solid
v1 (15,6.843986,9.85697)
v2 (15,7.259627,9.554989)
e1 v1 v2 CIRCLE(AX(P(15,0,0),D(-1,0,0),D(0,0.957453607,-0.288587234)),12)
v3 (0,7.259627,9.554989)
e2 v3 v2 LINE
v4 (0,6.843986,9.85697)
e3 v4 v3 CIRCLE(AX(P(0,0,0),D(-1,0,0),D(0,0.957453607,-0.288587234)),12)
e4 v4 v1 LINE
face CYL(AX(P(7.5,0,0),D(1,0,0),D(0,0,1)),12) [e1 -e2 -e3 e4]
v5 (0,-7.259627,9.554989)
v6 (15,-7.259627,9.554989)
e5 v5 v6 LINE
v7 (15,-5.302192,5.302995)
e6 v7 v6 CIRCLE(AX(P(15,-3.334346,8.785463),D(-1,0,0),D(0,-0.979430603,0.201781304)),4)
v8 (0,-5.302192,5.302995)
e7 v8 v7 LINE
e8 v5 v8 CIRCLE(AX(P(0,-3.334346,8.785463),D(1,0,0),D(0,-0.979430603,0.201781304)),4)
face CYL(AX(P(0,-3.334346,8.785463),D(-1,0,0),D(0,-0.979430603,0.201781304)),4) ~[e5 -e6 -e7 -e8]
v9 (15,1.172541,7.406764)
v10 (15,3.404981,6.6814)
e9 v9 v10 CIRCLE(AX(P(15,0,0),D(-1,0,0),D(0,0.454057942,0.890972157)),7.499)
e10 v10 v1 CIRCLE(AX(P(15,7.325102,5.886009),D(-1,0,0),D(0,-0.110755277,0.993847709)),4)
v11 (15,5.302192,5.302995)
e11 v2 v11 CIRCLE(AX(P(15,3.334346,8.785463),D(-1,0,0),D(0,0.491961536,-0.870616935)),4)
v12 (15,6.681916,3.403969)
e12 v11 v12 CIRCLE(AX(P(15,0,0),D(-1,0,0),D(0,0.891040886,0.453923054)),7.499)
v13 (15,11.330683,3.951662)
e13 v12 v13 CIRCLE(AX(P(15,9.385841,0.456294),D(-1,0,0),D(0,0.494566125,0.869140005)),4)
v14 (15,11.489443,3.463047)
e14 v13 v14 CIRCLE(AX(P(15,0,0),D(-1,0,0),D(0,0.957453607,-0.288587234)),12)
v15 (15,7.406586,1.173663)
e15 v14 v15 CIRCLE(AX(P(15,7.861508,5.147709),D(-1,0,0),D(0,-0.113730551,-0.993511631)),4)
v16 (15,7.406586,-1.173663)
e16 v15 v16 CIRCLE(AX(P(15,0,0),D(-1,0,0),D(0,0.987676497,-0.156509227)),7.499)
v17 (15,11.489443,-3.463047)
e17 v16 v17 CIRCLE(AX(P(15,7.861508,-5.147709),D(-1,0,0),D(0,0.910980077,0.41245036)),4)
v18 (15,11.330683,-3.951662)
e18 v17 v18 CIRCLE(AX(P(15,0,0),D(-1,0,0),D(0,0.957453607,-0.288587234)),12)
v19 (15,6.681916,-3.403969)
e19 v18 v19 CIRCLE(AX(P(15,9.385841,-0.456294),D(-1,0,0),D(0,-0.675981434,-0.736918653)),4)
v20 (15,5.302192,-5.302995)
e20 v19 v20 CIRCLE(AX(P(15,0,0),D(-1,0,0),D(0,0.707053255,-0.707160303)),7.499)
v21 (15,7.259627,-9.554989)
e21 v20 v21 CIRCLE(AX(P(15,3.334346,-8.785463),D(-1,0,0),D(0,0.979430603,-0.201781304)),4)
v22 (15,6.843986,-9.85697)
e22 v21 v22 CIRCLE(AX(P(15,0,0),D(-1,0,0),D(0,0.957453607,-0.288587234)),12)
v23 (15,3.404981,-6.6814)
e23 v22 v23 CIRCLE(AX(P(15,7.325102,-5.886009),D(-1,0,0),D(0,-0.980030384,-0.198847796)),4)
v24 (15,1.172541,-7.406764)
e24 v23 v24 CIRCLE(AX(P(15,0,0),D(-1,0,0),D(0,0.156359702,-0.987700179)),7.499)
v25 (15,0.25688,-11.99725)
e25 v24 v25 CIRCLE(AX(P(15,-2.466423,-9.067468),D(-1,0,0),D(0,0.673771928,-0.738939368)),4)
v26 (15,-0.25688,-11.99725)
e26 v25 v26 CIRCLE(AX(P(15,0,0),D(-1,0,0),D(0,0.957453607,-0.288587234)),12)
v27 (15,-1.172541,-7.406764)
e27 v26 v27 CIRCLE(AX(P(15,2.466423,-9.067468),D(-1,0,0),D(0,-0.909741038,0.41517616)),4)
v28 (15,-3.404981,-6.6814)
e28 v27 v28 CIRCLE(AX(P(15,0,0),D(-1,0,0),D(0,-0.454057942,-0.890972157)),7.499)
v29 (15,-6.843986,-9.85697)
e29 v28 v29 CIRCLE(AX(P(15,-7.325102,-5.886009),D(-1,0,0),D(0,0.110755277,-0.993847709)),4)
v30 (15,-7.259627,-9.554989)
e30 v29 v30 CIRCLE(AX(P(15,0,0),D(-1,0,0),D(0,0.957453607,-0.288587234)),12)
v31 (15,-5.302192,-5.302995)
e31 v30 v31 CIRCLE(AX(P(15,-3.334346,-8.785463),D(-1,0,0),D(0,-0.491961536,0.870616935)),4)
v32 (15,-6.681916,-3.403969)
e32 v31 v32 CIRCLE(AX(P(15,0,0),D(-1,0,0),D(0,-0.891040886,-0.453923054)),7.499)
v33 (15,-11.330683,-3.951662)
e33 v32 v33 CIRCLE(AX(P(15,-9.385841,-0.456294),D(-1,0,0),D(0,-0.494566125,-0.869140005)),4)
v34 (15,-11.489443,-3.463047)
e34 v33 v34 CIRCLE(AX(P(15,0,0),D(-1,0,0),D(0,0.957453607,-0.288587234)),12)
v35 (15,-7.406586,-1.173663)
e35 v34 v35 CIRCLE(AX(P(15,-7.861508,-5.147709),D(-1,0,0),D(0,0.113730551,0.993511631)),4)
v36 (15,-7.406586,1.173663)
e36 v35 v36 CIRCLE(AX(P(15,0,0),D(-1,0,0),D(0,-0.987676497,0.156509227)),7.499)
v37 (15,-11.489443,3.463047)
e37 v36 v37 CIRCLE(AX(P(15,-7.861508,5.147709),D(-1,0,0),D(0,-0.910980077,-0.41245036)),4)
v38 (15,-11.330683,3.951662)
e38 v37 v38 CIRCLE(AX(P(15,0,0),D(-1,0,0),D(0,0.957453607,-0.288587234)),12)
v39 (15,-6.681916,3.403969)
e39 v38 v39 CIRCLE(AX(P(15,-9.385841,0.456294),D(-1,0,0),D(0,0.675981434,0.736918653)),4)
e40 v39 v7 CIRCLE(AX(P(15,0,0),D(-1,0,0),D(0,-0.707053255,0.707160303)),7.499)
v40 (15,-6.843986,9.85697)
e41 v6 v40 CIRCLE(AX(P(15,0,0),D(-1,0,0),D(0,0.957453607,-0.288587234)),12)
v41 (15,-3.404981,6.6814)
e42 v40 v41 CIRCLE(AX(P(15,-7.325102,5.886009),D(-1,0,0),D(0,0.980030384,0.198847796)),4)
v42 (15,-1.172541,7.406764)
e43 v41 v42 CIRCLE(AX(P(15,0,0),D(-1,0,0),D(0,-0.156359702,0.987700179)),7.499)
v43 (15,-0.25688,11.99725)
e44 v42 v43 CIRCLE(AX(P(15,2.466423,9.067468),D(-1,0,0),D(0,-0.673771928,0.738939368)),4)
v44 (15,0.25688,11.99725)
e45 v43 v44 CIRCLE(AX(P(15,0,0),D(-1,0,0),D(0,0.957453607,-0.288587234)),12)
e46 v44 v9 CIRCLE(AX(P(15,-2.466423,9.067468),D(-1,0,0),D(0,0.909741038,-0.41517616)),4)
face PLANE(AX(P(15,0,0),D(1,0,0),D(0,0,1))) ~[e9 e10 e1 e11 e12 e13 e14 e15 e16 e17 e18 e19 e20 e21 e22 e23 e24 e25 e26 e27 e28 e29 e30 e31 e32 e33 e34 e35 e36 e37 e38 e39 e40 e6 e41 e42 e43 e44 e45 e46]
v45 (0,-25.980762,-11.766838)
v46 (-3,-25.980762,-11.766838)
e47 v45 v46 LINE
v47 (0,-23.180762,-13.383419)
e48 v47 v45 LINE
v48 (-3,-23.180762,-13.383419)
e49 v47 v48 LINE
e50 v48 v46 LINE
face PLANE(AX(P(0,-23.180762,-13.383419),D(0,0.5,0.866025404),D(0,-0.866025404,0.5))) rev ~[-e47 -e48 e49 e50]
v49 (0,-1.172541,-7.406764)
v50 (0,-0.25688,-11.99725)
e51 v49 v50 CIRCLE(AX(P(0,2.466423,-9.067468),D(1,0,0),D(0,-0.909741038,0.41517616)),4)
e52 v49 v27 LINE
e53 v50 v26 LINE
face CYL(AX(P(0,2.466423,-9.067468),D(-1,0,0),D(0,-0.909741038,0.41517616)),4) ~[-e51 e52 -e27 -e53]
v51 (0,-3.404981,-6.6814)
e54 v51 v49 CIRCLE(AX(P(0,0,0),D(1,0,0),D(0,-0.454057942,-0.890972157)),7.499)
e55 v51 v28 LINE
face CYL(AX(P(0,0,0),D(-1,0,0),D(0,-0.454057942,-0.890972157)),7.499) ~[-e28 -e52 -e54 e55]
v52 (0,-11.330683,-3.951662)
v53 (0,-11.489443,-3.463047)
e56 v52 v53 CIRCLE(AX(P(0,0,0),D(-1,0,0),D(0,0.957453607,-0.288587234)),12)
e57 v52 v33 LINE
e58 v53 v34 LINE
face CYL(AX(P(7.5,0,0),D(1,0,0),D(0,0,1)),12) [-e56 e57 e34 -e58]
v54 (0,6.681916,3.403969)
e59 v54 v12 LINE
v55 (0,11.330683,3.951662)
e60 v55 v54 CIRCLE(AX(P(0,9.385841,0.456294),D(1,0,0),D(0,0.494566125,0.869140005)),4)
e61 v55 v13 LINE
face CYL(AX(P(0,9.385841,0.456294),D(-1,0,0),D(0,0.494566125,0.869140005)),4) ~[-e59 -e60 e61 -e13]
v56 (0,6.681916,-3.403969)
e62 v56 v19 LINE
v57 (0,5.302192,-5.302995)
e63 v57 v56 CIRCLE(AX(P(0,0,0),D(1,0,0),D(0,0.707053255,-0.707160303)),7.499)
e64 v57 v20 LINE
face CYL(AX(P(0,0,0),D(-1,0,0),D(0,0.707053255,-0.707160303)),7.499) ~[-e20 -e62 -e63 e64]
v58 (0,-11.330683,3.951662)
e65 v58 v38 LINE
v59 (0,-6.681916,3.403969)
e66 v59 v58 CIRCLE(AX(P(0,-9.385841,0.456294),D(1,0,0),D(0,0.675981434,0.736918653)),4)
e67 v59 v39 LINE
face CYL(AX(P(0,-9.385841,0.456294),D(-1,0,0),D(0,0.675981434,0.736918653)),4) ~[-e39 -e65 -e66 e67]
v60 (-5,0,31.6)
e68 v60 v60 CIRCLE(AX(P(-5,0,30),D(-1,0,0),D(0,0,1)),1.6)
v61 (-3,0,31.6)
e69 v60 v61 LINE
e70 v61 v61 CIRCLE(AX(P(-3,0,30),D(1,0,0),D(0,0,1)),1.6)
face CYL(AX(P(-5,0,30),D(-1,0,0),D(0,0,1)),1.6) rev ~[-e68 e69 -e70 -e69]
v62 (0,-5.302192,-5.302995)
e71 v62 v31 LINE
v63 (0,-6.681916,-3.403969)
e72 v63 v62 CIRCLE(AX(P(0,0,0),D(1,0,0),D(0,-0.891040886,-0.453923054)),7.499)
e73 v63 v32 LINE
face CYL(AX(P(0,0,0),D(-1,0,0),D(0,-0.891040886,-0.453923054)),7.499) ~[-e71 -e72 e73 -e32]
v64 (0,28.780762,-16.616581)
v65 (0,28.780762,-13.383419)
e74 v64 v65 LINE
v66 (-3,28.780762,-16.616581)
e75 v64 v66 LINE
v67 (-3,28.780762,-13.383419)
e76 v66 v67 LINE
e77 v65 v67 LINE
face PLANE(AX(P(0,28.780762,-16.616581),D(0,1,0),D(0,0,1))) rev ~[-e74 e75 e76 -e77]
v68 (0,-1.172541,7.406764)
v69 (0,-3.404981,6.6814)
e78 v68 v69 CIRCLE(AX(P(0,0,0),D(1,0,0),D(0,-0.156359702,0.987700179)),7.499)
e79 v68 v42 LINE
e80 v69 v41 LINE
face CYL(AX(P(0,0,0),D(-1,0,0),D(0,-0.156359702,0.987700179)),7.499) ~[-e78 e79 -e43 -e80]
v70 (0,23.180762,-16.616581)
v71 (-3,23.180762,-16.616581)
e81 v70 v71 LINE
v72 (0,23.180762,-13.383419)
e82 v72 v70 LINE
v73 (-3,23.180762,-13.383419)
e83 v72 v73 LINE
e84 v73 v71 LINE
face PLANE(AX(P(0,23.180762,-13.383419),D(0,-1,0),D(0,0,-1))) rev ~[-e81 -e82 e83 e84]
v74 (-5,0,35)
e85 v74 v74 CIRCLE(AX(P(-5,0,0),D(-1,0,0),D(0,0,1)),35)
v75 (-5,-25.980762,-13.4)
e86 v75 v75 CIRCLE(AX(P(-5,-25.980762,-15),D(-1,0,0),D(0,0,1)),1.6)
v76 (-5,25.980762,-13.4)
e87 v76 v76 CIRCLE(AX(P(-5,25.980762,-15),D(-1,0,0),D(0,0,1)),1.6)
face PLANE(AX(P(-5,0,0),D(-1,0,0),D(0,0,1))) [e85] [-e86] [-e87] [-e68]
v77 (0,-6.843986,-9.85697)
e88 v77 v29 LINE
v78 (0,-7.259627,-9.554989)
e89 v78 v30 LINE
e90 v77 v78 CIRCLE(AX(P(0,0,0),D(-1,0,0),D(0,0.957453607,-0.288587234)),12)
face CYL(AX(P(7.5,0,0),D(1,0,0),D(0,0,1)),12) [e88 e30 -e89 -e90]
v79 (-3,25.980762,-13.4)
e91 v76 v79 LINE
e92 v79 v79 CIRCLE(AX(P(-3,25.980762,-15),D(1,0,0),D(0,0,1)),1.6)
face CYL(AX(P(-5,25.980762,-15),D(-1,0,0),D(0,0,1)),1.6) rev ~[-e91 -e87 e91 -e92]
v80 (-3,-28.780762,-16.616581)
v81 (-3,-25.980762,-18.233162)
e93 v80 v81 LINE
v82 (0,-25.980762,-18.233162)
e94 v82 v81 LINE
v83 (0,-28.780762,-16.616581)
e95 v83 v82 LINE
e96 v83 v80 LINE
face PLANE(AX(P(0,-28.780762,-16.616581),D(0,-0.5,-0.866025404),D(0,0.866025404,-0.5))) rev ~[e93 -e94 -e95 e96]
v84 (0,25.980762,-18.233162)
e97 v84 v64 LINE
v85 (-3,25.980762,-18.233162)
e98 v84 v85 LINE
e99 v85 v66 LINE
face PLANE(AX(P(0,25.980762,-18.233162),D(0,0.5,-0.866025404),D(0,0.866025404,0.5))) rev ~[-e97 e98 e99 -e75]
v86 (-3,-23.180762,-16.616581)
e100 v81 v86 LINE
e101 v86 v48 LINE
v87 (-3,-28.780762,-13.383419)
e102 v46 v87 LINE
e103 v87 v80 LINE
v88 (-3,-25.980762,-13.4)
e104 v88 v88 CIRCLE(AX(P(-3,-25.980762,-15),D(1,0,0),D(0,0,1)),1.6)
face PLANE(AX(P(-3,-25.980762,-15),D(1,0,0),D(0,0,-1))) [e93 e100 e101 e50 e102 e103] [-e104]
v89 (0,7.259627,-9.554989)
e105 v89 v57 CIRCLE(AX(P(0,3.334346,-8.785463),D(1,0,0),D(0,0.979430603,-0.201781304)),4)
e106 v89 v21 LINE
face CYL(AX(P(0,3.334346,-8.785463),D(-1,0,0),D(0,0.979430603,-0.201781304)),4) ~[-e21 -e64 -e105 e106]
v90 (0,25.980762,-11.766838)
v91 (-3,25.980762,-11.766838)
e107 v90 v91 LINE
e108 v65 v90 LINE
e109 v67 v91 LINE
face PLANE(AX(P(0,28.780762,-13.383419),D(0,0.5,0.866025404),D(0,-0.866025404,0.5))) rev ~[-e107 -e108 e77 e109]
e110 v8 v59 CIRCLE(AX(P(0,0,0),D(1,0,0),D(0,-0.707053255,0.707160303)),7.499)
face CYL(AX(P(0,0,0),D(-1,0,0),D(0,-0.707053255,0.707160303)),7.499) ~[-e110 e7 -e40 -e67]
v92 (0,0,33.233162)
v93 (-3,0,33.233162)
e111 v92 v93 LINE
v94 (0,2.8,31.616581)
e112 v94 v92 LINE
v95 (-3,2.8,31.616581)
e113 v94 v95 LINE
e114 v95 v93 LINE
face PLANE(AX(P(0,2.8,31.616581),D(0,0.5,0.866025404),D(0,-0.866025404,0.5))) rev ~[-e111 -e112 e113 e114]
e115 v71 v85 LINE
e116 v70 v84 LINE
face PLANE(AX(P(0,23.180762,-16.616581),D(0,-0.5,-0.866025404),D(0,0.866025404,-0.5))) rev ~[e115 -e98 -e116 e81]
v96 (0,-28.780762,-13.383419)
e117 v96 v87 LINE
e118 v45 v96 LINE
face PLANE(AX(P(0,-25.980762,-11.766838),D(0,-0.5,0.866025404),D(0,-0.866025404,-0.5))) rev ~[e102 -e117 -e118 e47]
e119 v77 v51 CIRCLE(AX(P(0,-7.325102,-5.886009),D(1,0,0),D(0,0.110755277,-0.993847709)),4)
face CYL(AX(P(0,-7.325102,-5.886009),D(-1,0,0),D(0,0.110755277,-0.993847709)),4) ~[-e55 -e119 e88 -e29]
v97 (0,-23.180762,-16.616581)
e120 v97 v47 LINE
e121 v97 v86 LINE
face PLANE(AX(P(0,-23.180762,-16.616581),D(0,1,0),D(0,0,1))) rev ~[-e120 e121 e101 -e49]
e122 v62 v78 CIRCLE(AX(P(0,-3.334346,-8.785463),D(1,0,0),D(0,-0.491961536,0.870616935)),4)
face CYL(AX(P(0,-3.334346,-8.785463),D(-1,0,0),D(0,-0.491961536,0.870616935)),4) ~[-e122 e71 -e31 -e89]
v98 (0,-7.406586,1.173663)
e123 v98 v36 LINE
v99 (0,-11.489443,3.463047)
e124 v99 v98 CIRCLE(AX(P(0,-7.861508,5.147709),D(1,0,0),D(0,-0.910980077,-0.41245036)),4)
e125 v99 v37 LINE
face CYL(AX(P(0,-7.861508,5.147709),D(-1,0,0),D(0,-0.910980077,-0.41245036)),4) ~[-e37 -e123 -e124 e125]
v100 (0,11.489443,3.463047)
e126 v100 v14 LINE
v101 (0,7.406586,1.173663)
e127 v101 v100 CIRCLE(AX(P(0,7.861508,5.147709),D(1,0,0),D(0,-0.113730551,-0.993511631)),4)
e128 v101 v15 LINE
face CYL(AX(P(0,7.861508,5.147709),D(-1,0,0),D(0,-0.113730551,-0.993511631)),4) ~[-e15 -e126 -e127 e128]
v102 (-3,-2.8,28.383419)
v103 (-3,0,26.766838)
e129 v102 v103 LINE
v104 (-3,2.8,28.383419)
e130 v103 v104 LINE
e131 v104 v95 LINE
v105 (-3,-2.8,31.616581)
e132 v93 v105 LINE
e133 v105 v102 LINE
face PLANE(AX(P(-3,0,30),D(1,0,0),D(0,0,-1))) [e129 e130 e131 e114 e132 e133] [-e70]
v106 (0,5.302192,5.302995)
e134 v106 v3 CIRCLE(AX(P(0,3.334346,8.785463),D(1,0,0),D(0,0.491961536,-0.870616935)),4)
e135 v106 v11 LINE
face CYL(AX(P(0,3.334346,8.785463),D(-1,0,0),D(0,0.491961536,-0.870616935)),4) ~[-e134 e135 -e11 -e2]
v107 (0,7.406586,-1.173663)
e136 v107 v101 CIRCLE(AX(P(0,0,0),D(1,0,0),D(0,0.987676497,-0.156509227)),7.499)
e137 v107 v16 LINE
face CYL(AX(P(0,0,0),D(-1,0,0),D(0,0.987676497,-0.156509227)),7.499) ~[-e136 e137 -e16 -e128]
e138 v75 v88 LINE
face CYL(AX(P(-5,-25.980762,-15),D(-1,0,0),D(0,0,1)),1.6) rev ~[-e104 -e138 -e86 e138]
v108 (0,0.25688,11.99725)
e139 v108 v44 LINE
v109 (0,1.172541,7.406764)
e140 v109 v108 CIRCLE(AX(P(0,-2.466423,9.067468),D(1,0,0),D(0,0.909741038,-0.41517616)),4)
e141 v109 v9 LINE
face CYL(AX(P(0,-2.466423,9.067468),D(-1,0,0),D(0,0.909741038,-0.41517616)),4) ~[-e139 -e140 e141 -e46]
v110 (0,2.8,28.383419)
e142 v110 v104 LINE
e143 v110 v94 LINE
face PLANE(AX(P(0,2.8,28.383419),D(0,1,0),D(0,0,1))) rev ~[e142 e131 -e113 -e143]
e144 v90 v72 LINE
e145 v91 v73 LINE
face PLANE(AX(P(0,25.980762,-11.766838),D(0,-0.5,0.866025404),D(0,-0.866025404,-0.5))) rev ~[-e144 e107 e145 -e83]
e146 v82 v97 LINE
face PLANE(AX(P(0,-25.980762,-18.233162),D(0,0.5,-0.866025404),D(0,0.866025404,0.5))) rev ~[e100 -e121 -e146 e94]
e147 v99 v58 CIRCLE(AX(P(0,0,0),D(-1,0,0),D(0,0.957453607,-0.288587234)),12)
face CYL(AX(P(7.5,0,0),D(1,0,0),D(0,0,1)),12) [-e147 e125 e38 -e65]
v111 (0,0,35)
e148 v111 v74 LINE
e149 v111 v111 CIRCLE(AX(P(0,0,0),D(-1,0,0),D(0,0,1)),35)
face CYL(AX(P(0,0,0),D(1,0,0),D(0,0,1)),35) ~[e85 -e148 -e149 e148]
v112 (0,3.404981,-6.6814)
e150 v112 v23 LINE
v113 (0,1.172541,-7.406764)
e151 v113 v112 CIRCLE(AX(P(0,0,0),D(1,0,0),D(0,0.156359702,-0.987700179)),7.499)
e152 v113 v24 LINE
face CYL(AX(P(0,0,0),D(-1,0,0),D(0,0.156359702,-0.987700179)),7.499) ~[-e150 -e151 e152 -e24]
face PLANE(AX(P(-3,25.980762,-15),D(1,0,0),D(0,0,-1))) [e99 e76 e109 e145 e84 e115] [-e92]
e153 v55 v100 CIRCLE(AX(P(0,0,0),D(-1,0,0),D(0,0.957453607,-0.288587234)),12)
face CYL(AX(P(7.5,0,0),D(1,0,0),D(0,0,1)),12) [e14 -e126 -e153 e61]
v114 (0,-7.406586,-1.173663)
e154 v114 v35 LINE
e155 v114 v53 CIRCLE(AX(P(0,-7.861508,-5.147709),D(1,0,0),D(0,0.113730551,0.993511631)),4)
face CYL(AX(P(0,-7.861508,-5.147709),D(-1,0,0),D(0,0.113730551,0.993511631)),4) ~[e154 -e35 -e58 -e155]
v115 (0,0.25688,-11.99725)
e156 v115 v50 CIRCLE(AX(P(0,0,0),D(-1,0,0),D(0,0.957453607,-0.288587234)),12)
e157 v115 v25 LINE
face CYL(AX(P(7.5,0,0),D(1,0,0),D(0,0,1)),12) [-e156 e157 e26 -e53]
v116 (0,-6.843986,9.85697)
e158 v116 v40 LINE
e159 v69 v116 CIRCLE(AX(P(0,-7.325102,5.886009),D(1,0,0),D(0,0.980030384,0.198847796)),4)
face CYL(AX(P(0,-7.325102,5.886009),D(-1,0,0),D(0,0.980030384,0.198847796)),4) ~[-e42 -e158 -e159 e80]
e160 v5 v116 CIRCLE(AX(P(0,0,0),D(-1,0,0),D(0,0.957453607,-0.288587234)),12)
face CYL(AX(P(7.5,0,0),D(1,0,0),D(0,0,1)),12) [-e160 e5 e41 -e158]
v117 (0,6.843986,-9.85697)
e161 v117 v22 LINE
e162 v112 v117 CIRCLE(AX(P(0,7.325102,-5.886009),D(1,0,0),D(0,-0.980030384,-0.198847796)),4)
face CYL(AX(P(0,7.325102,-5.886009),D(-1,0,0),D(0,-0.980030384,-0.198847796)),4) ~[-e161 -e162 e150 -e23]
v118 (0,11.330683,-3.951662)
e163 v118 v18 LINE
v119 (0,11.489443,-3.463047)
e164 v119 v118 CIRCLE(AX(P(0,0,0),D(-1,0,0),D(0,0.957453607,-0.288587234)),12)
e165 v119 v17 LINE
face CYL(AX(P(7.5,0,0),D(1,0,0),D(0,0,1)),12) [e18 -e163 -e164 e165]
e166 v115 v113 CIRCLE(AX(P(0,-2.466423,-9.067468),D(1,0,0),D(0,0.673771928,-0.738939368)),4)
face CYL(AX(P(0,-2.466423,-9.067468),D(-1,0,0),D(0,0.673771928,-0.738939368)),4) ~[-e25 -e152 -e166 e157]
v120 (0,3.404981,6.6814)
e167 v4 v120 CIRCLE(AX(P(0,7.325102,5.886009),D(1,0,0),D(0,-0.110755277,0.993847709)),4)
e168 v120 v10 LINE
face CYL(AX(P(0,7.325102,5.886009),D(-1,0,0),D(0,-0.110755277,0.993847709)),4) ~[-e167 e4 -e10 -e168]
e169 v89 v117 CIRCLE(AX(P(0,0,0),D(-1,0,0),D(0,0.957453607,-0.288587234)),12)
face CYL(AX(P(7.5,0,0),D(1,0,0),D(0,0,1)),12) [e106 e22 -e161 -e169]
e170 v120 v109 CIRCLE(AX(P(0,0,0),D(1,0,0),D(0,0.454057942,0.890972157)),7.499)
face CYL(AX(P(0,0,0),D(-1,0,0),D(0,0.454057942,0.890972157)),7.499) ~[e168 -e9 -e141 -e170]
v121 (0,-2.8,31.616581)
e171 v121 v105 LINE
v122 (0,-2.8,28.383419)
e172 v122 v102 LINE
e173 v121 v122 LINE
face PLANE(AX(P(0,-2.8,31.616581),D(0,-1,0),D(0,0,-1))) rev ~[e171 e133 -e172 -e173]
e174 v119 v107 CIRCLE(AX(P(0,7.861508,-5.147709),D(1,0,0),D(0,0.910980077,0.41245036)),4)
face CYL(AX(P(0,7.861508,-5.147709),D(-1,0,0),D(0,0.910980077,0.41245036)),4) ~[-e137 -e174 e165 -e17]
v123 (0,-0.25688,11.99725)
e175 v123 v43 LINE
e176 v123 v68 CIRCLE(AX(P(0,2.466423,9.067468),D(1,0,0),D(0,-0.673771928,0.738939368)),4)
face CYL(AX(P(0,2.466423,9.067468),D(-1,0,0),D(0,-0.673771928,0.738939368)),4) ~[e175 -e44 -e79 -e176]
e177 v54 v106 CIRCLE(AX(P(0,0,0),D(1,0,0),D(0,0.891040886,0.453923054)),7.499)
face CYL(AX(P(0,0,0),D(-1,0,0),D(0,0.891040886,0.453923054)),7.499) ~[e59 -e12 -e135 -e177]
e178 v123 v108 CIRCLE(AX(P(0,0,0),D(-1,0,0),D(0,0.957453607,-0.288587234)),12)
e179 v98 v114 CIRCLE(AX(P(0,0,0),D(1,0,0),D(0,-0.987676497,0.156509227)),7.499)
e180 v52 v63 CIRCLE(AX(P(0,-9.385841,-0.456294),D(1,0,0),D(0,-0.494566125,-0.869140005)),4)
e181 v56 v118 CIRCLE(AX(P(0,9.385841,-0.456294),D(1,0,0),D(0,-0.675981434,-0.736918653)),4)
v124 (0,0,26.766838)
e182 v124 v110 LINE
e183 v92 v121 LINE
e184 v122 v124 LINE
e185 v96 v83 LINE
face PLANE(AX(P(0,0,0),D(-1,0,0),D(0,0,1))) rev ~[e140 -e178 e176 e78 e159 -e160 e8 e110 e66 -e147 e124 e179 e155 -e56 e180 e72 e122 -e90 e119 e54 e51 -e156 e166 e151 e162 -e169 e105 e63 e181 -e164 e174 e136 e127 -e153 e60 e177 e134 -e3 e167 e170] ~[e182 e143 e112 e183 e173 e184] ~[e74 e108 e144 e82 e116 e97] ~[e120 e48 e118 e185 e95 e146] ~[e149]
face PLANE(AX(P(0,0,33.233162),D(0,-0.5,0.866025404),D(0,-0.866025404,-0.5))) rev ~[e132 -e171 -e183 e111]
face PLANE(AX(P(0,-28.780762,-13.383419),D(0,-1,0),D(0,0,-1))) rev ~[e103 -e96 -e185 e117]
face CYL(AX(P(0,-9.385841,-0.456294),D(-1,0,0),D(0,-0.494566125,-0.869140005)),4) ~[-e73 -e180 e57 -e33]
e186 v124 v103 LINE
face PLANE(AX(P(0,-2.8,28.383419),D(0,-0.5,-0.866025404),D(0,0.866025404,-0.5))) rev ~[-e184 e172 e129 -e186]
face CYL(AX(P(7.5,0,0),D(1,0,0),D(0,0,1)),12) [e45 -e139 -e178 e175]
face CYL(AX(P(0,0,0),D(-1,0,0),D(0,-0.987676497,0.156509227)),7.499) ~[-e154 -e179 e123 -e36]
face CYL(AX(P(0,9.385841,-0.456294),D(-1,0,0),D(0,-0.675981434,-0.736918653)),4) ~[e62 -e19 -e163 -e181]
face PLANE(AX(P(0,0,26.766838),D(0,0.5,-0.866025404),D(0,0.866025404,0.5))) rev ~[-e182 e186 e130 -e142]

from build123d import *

# Parameters (mm, degrees)
BASPROSKE_W         = 15
BASPROSKE_H         = 12
TOOTHCUT_DEPTH      = 23.649503306
TEETHCUTS_COUNT     = 10
TEETHCUTS_ANGLE     = 324
BORSKE_R            = 0.45
BORE_DEPTH          = 50.0000508
SKETCH1_R           = 0.45
CUT_EXTRUDE1_DEPTH  = 15
SKETCH2_R           = 3.991106517
BOSS_EXTRUDE1_DEPTH = 15
SKETCH3_R           = 35
BOSS_EXTRUDE2_DEPTH = 5
SKETCH7_R           = 1.6
CUT_EXTRUDE2_DEPTH  = 10
CUT_EXTRUDE3_DEPTH  = 3
CUT_EXTRUDE5_DEPTH  = 3


with BuildPart() as part:
    # BasProSke → Base-Revolve (revolve)
    with BuildSketch(Plane(origin=(0, 0, 0), x_dir=(1, 0, 0), z_dir=(0, 1, 0)), mode=Mode.PRIVATE) as base_revolve_sk:
        with Locations((7.5, 6)):
            Rectangle(BASPROSKE_W, BASPROSKE_H)
    revolve(base_revolve_sk.sketch.rotate(Axis((-10, 0, 0), (1, 0, 0)), 180), axis=Axis((-10, 0, 0), (1, 0, 0)))

    # TooCutSke → ToothCut (cut, through all)
    with BuildSketch(Plane(origin=(0, 0, 0), x_dir=(0, 0, -1), z_dir=(1, 0, 0))):
        with BuildLine():
            ThreePointArc((1.173662691, 7.406586048), (0, 7.499), (-1.173662691, 7.406586048))
            ThreePointArc((-1.173662691, 7.406586048), (-1.668191438, 9.834565786), (-3.497907776, 11.50542856))
            ThreePointArc((-3.497907776, 11.50542856), (0, 12.0254), (3.497907776, 11.50542856))
            ThreePointArc((3.497907776, 11.50542856), (1.668191438, 9.834565786), (1.173662691, 7.406586048))
        make_face()
    toothcut = extrude(amount=TOOTHCUT_DEPTH, mode=Mode.SUBTRACT)

    # TeethCuts: ToothCut ×10 about axis
    teethcuts_axis = Axis((-10, 0, 0), (1, 0, 0))
    for i in range(1, TEETHCUTS_COUNT):
        add(toothcut.rotate(teethcuts_axis, i * TEETHCUTS_ANGLE / (TEETHCUTS_COUNT - 1)), mode=Mode.SUBTRACT)

    # BorSke → Bore (cut, symmetric)
    with BuildSketch(Plane(origin=(0, 0, 0), x_dir=(0, 0, -1), z_dir=(1, 0, 0))):
        with Locations(Location((0, 0, 0), (0, 0, 180))):
            Circle(BORSKE_R)
    extrude(amount=BORE_DEPTH, both=True, mode=Mode.SUBTRACT)

    # Sketch1 → Cut-Extrude1 (cut)
    with BuildSketch(Plane.ZY):
        with BuildLine():
            Line((1.212435565, 2.3), (-1.212435565, 2.3))
            ThreePointArc((-1.212435565, 2.3), (-1.343068786, -2.226244873), (2.6, 0))
            ThreePointArc((2.6, 0), (2.226244873, 1.343068786), (1.212435565, 2.3))
        make_face()
        Circle(SKETCH1_R, mode=Mode.SUBTRACT)
    extrude(amount=-CUT_EXTRUDE1_DEPTH, mode=Mode.SUBTRACT)

    # Sketch2 → Boss-Extrude1 (add)
    with BuildSketch(Plane.ZY):
        Circle(SKETCH2_R)
    extrude(amount=-BOSS_EXTRUDE1_DEPTH)

    # Sketch3 → Boss-Extrude2 (add)
    with BuildSketch(Plane.ZY):
        Circle(SKETCH3_R)
    extrude(amount=BOSS_EXTRUDE2_DEPTH)

    # Sketch7 → Cut-Extrude2 (cut)
    with BuildSketch(Plane.ZY.offset(5)):
        with Locations((30, 0)):
            Circle(SKETCH7_R)
        with Locations((-15, -25.980762114)):
            Circle(SKETCH7_R)
        with Locations((-15, 25.980762114)):
            Circle(SKETCH7_R)
    extrude(amount=-CUT_EXTRUDE2_DEPTH, mode=Mode.SUBTRACT)

    # Sketch8 → Cut-Extrude3 (cut)
    with BuildSketch(Plane(origin=(0, 0, 0), x_dir=(0, 0, -1), z_dir=(1, 0, 0))):
        Polygon((15.808290377, 27.380762114), (14.191709623, 27.380762114), (13.383419246, 25.980762114), (14.191709623, 24.580762114), (15.808290377, 24.580762114), (16.616580754, 25.980762114), align=None)
        Polygon((-31.616580754, 0), (-30.808290377, -1.4), (-29.191709623, -1.4), (-28.383419246, 0), (-29.191709623, 1.4), (-30.808290377, 1.4), align=None)
        Polygon((15.808290377, -27.380762114), (16.616580754, -25.980762114), (15.808290377, -24.580762114), (14.191709623, -24.580762114), (13.383419246, -25.980762114), (14.191709623, -27.380762114), align=None)
    extrude(amount=-CUT_EXTRUDE3_DEPTH, mode=Mode.SUBTRACT)

    # Sketch9 → Cut-Extrude5 (cut)
    with BuildSketch(Plane(origin=(0, 0, 0), x_dir=(0, 0, -1), z_dir=(1, 0, 0))):
        Polygon((16.616580754, 28.780762114), (13.383419246, 28.780762114), (11.766838493, 25.980762114), (13.383419246, 23.180762114), (16.616580754, 23.180762114), (18.233161507, 25.980762114), align=None)
        Polygon((-33.233161507, 0), (-31.616580754, -2.8), (-28.383419246, -2.8), (-26.766838493, 0), (-28.383419246, 2.8), (-31.616580754, 2.8), align=None)
        Polygon((16.616580754, -28.780762114), (18.233161507, -25.980762114), (16.616580754, -23.180762114), (13.383419246, -23.180762114), (11.766838493, -25.980762114), (13.383419246, -28.780762114), align=None)
    extrude(amount=-CUT_EXTRUDE5_DEPTH, mode=Mode.SUBTRACT)


solid = part.part
